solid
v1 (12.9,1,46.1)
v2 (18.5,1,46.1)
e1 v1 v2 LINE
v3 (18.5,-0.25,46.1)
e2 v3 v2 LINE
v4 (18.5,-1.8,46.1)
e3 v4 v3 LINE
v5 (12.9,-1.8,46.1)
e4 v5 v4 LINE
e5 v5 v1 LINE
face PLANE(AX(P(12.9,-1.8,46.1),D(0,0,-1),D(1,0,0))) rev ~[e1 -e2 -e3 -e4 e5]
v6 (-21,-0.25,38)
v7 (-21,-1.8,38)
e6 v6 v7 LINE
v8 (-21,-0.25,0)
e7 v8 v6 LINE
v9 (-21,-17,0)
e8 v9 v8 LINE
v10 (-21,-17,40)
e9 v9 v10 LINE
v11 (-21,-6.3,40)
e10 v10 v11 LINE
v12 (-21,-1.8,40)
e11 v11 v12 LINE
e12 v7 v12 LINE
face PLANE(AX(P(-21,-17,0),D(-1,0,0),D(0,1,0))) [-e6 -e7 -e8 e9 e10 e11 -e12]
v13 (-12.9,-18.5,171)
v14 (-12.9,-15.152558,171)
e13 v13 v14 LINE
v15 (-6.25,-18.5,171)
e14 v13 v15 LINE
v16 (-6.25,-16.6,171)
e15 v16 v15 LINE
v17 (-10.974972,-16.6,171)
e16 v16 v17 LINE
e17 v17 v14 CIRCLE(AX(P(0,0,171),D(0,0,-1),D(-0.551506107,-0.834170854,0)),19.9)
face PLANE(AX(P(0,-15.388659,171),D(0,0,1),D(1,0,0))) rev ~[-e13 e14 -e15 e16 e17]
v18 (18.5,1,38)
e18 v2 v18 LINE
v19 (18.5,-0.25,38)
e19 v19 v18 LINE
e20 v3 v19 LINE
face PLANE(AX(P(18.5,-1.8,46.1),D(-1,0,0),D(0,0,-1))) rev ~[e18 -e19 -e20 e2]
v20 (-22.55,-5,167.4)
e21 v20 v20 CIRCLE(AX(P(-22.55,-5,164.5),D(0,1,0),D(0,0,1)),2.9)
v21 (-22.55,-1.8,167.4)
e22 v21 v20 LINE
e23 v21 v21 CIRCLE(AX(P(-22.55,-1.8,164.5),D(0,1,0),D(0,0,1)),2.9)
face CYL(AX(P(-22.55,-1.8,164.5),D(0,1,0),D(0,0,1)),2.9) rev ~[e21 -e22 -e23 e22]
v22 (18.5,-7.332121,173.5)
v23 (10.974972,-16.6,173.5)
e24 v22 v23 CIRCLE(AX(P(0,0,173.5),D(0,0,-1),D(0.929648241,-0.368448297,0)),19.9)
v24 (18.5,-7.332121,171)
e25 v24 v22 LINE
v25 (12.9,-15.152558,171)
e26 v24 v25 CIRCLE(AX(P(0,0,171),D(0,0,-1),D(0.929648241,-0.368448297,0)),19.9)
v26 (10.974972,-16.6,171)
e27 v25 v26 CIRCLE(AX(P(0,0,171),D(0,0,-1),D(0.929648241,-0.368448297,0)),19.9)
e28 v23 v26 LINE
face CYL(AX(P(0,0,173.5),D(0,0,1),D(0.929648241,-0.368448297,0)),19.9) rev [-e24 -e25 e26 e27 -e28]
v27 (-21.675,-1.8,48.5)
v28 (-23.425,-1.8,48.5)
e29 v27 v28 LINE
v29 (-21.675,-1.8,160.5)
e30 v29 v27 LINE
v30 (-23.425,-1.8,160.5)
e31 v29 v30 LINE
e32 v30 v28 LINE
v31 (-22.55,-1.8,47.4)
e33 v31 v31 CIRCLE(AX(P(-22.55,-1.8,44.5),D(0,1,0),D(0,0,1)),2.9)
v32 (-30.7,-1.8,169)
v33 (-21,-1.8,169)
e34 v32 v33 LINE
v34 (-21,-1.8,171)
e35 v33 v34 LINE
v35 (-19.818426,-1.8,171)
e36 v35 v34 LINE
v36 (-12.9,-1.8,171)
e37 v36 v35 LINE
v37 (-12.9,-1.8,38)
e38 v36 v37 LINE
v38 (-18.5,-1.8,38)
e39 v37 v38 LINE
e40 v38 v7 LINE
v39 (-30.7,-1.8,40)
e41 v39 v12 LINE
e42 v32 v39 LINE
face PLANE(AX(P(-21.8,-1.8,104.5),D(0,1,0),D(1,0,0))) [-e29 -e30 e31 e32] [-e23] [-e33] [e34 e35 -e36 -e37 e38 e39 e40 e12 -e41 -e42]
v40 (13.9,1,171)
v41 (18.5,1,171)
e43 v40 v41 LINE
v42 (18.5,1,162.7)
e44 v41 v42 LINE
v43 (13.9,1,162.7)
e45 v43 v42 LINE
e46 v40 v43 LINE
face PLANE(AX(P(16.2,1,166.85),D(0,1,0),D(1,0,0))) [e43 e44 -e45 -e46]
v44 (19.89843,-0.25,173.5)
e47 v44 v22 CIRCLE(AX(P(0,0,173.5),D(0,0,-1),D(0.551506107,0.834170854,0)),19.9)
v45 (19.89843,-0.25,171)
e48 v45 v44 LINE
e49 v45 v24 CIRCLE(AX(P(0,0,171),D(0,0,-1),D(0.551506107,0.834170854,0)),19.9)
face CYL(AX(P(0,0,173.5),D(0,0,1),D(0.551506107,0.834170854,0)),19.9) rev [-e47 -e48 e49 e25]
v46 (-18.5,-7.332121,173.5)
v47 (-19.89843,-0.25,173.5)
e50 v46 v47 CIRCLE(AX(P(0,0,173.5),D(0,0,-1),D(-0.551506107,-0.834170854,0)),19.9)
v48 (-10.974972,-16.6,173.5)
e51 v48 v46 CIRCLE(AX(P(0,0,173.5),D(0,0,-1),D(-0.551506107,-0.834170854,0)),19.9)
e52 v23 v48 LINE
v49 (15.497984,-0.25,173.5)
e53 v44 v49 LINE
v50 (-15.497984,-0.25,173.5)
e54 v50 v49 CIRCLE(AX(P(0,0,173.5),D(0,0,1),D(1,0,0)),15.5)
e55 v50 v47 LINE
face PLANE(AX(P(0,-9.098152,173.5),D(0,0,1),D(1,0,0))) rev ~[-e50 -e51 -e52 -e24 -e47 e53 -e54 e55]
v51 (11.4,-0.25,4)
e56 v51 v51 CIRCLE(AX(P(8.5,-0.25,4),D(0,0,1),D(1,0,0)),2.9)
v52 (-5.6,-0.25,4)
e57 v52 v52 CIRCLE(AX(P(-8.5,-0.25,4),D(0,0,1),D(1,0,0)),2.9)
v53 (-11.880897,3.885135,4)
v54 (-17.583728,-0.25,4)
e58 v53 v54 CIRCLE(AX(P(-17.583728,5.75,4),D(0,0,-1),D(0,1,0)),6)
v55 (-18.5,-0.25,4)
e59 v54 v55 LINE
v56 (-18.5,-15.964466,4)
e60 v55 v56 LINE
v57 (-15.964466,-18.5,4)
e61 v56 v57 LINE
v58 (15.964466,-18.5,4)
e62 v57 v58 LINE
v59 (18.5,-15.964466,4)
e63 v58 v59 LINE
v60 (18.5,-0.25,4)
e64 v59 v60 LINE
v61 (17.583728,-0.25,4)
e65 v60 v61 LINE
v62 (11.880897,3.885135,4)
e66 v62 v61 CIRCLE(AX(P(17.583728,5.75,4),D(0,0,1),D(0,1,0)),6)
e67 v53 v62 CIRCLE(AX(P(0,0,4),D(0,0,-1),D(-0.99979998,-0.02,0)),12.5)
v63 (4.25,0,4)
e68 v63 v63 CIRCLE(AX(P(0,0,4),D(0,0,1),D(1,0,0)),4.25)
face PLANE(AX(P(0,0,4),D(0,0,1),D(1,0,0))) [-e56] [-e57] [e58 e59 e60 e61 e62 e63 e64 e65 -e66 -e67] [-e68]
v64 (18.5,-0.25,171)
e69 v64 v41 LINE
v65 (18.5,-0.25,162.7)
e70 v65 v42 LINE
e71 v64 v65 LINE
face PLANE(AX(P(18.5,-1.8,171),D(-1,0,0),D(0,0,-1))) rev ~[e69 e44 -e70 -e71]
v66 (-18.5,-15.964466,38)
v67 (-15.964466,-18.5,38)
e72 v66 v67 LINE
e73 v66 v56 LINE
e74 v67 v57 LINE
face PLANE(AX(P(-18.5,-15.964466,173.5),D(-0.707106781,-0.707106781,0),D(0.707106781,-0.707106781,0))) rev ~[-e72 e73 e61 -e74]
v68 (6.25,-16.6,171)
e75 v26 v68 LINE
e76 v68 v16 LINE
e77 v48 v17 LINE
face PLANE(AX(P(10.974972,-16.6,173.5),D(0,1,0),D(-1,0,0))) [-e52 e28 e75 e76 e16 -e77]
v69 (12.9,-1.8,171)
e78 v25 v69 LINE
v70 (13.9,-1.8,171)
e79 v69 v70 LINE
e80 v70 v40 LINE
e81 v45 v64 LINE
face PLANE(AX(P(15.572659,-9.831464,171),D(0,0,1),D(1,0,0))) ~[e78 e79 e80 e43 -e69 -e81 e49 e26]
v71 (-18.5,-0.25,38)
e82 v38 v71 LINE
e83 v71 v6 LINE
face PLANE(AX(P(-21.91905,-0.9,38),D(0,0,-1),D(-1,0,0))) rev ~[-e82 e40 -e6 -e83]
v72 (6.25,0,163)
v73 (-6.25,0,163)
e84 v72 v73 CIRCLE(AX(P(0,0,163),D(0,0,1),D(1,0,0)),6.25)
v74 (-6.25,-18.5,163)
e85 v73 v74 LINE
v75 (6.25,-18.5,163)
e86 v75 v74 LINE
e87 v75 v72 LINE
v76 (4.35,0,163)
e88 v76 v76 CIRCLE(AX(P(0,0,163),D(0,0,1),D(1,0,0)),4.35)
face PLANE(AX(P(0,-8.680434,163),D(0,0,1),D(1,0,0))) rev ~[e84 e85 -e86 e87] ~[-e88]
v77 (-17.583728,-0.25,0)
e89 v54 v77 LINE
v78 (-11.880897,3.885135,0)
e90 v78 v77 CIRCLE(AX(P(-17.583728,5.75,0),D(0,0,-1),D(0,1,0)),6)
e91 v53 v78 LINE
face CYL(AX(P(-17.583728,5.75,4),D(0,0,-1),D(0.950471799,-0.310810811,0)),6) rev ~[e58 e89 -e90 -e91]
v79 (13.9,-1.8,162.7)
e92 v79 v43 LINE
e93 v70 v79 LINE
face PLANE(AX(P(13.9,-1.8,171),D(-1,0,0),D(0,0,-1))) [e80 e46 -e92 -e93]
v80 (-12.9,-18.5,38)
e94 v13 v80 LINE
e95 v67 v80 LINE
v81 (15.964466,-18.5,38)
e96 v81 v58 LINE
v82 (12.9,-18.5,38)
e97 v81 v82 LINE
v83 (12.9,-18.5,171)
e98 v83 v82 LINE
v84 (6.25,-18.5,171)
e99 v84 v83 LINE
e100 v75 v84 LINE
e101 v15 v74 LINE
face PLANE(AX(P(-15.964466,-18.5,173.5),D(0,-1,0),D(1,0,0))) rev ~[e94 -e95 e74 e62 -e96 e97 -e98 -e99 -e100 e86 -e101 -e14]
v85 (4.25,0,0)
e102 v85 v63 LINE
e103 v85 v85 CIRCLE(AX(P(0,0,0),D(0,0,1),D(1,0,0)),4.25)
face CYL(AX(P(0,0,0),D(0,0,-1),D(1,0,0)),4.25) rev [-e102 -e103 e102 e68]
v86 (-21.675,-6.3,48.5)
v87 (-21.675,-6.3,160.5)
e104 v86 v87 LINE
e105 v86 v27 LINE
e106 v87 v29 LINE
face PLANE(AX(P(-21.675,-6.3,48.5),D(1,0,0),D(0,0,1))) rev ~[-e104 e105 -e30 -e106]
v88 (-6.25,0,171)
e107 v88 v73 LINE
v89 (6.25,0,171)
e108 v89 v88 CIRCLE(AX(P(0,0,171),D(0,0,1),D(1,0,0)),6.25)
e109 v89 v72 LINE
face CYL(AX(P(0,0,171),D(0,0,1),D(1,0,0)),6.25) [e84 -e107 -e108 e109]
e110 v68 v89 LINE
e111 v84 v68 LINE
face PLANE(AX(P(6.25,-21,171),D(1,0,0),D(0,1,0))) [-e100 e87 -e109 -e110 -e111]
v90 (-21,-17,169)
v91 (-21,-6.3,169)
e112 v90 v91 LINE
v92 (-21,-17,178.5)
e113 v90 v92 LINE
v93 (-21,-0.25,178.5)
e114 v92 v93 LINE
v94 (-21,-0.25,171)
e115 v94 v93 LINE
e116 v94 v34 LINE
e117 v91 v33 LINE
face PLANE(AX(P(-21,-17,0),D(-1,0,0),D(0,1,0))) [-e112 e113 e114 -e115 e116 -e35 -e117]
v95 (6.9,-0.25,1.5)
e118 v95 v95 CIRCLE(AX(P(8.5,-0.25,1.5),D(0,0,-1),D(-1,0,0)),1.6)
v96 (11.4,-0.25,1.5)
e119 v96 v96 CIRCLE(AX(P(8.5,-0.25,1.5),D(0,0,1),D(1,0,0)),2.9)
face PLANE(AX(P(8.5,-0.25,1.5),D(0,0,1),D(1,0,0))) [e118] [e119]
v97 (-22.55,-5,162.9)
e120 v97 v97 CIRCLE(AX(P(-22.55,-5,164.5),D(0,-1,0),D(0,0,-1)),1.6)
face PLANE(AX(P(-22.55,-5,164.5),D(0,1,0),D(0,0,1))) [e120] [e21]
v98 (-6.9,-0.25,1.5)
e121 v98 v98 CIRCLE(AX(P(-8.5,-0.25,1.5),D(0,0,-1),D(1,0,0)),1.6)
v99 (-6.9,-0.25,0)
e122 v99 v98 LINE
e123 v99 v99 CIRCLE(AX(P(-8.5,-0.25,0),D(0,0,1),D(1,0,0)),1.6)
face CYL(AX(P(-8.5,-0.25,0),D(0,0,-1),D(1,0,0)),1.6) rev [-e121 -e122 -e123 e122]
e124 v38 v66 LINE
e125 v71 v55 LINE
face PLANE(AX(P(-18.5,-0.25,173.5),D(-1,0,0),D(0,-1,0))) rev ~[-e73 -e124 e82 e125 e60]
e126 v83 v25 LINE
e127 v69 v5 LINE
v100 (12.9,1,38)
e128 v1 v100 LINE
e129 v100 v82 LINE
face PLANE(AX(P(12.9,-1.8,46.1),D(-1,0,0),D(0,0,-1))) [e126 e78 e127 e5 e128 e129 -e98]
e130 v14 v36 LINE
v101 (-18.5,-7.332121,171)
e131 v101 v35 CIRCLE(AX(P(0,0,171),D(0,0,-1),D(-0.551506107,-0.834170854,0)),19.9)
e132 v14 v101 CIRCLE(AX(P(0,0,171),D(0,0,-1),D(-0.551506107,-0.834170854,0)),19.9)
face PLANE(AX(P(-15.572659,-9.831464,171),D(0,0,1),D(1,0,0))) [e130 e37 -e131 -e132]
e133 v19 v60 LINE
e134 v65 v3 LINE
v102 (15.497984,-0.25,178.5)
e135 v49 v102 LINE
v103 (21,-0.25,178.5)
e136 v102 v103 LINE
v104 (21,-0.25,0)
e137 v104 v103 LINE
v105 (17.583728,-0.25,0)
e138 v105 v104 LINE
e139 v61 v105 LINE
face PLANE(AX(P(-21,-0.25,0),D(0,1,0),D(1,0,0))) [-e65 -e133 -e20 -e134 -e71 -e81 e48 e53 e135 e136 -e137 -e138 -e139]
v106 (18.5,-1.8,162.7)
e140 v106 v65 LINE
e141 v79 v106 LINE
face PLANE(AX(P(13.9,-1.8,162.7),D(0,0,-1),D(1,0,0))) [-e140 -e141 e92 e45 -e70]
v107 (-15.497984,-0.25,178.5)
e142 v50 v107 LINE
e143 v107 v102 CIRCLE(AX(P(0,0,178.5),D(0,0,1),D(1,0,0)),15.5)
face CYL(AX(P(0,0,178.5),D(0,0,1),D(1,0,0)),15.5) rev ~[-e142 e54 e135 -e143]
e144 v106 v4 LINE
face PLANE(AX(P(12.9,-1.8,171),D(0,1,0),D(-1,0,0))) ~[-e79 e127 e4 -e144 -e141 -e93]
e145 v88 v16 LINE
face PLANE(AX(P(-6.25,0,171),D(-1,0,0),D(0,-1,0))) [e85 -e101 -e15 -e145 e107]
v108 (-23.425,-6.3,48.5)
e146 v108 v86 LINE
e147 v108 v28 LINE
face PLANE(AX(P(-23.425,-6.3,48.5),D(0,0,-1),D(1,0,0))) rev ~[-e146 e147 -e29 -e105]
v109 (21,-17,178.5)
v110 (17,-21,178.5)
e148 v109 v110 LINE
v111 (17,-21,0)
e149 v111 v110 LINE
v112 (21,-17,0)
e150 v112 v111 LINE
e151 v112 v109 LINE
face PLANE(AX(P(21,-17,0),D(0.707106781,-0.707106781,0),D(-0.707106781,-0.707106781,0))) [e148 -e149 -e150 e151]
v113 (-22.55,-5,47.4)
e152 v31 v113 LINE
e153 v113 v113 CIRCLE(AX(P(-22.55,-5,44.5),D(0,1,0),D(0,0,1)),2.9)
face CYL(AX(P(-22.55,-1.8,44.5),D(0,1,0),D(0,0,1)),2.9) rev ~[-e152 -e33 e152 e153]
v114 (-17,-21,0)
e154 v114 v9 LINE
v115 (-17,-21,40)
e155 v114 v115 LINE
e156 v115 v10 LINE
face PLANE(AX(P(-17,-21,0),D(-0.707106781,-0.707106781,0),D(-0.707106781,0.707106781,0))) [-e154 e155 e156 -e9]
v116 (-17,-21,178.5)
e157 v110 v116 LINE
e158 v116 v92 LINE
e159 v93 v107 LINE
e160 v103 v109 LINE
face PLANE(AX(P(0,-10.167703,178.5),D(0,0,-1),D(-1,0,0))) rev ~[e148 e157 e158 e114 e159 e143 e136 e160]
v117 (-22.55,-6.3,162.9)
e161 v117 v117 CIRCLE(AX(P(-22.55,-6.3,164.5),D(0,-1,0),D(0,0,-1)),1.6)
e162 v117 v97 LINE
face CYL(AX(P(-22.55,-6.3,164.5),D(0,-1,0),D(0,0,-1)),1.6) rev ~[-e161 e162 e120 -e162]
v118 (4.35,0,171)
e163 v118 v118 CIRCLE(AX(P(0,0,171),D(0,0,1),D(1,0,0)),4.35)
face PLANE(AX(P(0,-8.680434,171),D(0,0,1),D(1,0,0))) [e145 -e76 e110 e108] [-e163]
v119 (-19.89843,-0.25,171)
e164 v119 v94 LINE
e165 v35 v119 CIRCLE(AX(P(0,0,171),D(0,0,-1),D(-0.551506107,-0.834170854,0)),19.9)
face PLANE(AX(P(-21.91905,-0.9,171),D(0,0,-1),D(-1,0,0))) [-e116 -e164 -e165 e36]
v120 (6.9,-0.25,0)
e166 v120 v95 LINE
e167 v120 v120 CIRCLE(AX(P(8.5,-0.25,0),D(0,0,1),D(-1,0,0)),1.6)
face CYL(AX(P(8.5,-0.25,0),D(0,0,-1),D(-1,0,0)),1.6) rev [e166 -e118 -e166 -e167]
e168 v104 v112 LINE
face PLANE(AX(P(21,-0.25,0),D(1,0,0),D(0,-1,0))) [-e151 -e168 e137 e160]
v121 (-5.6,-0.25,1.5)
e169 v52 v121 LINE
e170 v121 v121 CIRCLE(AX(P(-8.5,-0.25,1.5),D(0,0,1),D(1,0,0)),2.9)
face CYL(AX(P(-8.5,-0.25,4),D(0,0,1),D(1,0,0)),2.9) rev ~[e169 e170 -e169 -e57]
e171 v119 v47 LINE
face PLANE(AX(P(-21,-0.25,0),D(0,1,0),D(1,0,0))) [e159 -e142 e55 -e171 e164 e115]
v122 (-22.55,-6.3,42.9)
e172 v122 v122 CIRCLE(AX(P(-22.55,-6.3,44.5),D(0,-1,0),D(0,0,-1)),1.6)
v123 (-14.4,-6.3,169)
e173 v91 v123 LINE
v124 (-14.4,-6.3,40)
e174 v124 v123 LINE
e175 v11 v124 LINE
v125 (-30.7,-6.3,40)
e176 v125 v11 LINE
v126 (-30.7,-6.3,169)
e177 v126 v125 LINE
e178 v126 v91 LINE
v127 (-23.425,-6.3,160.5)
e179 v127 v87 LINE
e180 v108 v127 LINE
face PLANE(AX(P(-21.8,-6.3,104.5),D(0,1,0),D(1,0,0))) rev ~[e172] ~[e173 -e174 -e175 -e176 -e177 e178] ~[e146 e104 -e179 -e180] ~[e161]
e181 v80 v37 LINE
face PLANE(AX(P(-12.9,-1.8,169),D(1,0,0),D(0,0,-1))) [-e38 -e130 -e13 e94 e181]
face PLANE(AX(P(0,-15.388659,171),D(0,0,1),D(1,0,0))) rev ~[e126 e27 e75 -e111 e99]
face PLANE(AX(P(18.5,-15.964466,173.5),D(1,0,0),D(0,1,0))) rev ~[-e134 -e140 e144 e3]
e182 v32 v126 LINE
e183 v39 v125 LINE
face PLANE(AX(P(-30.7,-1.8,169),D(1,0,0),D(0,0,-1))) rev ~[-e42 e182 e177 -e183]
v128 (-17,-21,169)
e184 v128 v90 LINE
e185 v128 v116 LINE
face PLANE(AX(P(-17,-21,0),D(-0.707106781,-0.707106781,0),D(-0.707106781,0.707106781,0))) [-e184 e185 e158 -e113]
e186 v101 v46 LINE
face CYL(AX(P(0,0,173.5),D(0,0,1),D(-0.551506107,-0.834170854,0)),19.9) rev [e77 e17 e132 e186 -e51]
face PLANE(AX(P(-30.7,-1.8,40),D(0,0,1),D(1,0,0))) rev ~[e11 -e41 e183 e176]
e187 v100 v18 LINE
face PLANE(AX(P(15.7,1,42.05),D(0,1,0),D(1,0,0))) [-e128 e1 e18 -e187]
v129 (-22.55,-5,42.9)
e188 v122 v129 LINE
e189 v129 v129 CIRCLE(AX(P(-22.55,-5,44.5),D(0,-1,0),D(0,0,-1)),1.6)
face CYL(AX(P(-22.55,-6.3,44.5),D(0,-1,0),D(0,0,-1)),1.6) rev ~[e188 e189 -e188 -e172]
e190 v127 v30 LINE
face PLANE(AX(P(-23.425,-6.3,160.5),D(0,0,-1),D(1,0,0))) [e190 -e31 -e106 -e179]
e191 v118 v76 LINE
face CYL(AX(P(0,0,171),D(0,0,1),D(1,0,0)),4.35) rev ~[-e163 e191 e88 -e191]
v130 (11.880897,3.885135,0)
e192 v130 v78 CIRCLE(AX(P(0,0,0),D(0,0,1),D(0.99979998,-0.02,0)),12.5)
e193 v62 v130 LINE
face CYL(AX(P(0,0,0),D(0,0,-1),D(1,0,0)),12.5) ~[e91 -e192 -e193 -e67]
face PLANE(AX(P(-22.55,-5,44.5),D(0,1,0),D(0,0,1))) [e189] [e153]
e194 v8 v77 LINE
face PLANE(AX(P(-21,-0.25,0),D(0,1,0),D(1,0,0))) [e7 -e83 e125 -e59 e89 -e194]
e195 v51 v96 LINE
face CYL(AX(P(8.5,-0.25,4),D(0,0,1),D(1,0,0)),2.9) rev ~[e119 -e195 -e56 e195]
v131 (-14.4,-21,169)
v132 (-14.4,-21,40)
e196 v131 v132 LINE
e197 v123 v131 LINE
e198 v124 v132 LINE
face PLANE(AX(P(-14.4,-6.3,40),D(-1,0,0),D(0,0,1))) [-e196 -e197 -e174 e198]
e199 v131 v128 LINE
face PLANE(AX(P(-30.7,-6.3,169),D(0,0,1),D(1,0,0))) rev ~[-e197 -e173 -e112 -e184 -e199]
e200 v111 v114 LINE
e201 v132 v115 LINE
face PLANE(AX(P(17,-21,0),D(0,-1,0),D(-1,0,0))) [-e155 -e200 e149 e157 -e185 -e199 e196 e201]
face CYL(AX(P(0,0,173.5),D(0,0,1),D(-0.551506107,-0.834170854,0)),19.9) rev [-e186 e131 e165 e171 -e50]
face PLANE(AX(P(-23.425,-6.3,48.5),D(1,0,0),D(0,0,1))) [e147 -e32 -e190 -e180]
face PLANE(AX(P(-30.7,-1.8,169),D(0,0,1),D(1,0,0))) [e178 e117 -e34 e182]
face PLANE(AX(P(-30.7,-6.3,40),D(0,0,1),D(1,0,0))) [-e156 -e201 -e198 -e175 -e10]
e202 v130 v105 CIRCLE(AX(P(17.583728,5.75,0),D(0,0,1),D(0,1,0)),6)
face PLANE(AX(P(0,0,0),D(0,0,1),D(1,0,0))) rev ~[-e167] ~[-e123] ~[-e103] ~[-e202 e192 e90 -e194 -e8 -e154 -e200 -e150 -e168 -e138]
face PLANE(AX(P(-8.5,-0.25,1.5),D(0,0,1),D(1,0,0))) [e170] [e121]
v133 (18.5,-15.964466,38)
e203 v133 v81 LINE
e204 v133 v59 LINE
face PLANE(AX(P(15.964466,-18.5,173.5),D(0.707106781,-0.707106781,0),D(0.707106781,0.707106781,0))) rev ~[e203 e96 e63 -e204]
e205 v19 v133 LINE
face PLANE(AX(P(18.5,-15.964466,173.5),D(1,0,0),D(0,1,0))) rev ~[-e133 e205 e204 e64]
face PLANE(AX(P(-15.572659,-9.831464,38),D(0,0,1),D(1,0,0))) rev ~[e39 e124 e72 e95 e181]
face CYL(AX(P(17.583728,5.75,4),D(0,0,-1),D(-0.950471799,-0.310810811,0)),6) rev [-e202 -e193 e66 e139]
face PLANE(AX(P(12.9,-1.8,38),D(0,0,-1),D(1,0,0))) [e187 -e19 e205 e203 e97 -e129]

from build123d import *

# Parameters (mm, degrees)
BOSS_EXTRUDE1_DEPTH = 178.5
CUT_EXTRUDE3_DEPTH  = 169.5
CUT_EXTRUDE2_REACH  = 182.954
SKETCH3_R           = 15.5
CUT_EXTRUDE4_DEPTH  = 2.5
BOSS_EXTRUDE3_DEPTH = 8
BOSS_EXTRUDE4_DEPTH = 133
SKETCH11_R          = 4.35
CUT_EXTRUDE6_DEPTH  = 10
SKETCH12_W          = 6.838099821
SKETCH12_H          = 1.8
CUT_EXTRUDE7_DEPTH  = 133
SKETCH13_W          = 17.8
SKETCH13_H          = 129
BOSS_EXTRUDE5_DEPTH = 4.5
SKETCH16_W          = 16.3
SKETCH16_H          = 129
CUT_EXTRUDE8_DEPTH  = 182.71634489
SKETCH17_R          = 1.6
SKETCH17_W          = 1.75
SKETCH17_H          = 112
CUT_EXTRUDE10_DEPTH = 182.71634489
SKETCH18_R          = 2.9
CUT_EXTRUDE11_DEPTH = 3.2
SKETCH19_R          = 12.5
BOSS_EXTRUDE6_DEPTH = 4
SKETCH20_R          = 4.25
SKETCH20_R_2        = 1.6
CUT_EXTRUDE12_DEPTH = 4
SKETCH21_R          = 2.9
CUT_EXTRUDE13_DEPTH = 2.5
FILLET1_R           = 6
SKETCH22_W          = 5.6
SKETCH22_H          = 8.1
SKETCH22_W_2        = 4.6
SKETCH22_H_2        = 8.3
BOSS_EXTRUDE7_DEPTH = 2.8
BOSS_EXTRUDE8_DEPTH = 2.5


with BuildPart() as part:
    # Sketch1 → Boss-Extrude1 (new body)
    with BuildSketch(Plane.XY):
        Polygon((-21, -0.25), (21, -0.25), (21, -17), (17, -21), (-17, -21), (-21, -17), align=None)
    extrude(amount=BOSS_EXTRUDE1_DEPTH)

    # Sketch4 → Cut-Extrude3 (cut)
    with BuildSketch(Plane.XY.offset(173.5)):
        Polygon((-18.5, -15.964466094), (-15.964466094, -18.5), (15.964466094, -18.5), (18.5, -15.964466094), (18.5, -2.75), (18.5, -0.25), (-18.5, -0.25), (-18.5, -2.75), align=None)
    extrude(amount=-CUT_EXTRUDE3_DEPTH, mode=Mode.SUBTRACT)

    # Sketch3 → Cut-Extrude2 (cut, up to next)
    with BuildSketch(Plane.XY.offset(178.5), mode=Mode.PRIVATE) as cut_extrude2_sk1:
        Circle(SKETCH3_R)
    cut_extrude2_tool1 = extrude(cut_extrude2_sk1.sketch, amount=-CUT_EXTRUDE2_REACH, mode=Mode.PRIVATE) & part.part
    add(cut_extrude2_tool1.solids().sort_by_distance((0, 0, 178.5))[0], mode=Mode.SUBTRACT)

    # Sketch6 → Cut-Extrude4 (cut)
    with BuildSketch(Plane.XY.offset(173.5)):
        with BuildLine():
            Line((-10.974971526, 16.6), (10.974971526, 16.6))
            ThreePointArc((10.974971526, 16.6), (19.9, 0), (10.974971526, -16.6))
            Line((10.974971526, -16.6), (-10.974971526, -16.6))
            ThreePointArc((-10.974971526, -16.6), (-19.9, 0), (-10.974971526, 16.6))
        make_face()
    extrude(amount=-CUT_EXTRUDE4_DEPTH, mode=Mode.SUBTRACT)

    # Sketch7 → Boss-Extrude3 (add)
    with BuildSketch(Plane.XY.offset(171)):
        with BuildLine():
            Line((-6.25, 0), (-6.25, -21))
            Line((-6.25, -21), (6.25, -21))
            Line((6.25, -21), (6.25, 0))
            ThreePointArc((6.25, 0), (0, 6.25), (-6.25, 0))
        make_face()
    extrude(amount=-BOSS_EXTRUDE3_DEPTH)

    # Sketch10 → Boss-Extrude4 (add)
    with BuildSketch(Plane.XY.offset(171)):
        Polygon((-18.5, -1.8), (-18.5, -15.964466094), (-15.964466094, -18.5), (-12.9, -18.5), (-12.9, -1.8), align=None)
    boss_extrude4 = extrude(amount=-BOSS_EXTRUDE4_DEPTH)

    # Mirror1: Boss-Extrude4 across plane
    add(boss_extrude4.mirror(Plane(origin=(0, 0, 0), x_dir=(0, 0, 1), z_dir=(1, 0, 0))))

    # Sketch11 → Cut-Extrude6 (cut)
    with BuildSketch(Plane.XY.offset(171)):
        Circle(SKETCH11_R)
    extrude(amount=-CUT_EXTRUDE6_DEPTH, mode=Mode.SUBTRACT)

    # Sketch12 → Cut-Extrude7 (cut)
    with BuildSketch(Plane(origin=(0, 0, 38), x_dir=(-1, 0, 0), z_dir=(0, 0, -1))):
        with Locations((21.919049911, -0.9)):
            Rectangle(SKETCH12_W, SKETCH12_H)
    extrude(amount=-CUT_EXTRUDE7_DEPTH, mode=Mode.SUBTRACT)

    # Sketch13 → Boss-Extrude5 (add)
    with BuildSketch(Plane(origin=(0, -1.8, 0), x_dir=(1, 0, 0), z_dir=(0, 1, 0))):
        with Locations((-21.8, -104.5)):
            Rectangle(SKETCH13_W, SKETCH13_H)
    extrude(amount=-BOSS_EXTRUDE5_DEPTH)

    # Sketch16 → Cut-Extrude8 (cut, through all)
    with BuildSketch(Plane.XZ.offset(6.3)):
        with Locations((-22.55, 104.5)):
            Rectangle(SKETCH16_W, SKETCH16_H)
    extrude(amount=CUT_EXTRUDE8_DEPTH, mode=Mode.SUBTRACT)

    # Sketch17 → Cut-Extrude10 (cut, through all)
    with BuildSketch(Plane.XZ.offset(6.3)):
        with Locations(Location((-22.55, 164.5, 0), (0, 0, 270))):
            Circle(SKETCH17_R)
        with Locations(Location((-22.55, 44.5, 0), (0, 0, 270))):
            Circle(SKETCH17_R)
        with Locations((-22.55, 104.5)):
            Rectangle(SKETCH17_W, SKETCH17_H)
    extrude(amount=-CUT_EXTRUDE10_DEPTH, mode=Mode.SUBTRACT)

    # Sketch18 → Cut-Extrude11 (cut)
    with BuildSketch(Plane(origin=(0, -1.8, 0), x_dir=(1, 0, 0), z_dir=(0, 1, 0))):
        with Locations(Location((-22.55, -164.5, 0), (0, 0, 270))):
            Circle(SKETCH18_R)
        with Locations(Location((-22.55, -44.5, 0), (0, 0, 270))):
            Circle(SKETCH18_R)
    extrude(amount=-CUT_EXTRUDE11_DEPTH, mode=Mode.SUBTRACT)

    # Sketch19 → Boss-Extrude6 (add)
    with BuildSketch(Plane.XY):
        Circle(SKETCH19_R)
    extrude(amount=BOSS_EXTRUDE6_DEPTH)

    # Sketch20 → Cut-Extrude12 (cut)
    with BuildSketch(Plane.XY):
        Circle(SKETCH20_R)
        with Locations((-8.5, -0.25)):
            Circle(SKETCH20_R_2)
        with Locations(Location((8.5, -0.25, 0), (0, 0, 180))):
            Circle(SKETCH20_R_2)
    extrude(amount=CUT_EXTRUDE12_DEPTH, mode=Mode.SUBTRACT)

    # Sketch21 → Cut-Extrude13 (cut)
    with BuildSketch(Plane.XY.offset(4)):
        with Locations((-8.5, -0.25)):
            Circle(SKETCH21_R)
        with Locations((8.5, -0.25)):
            Circle(SKETCH21_R)
    extrude(amount=-CUT_EXTRUDE13_DEPTH, mode=Mode.SUBTRACT)

    # Fillet1
    fillet1_edges = [part.edges().sort_by_distance(p)[0] for p in [
        (12.49749975, -0.25, 2),
        (-12.49749975, -0.25, 2),
    ]]
    fillet(fillet1_edges, radius=FILLET1_R)

    # Sketch22 → Boss-Extrude7 (add)
    with BuildSketch(Plane(origin=(0, -1.8, 0), x_dir=(1, 0, 0), z_dir=(0, 1, 0))):
        with Locations((15.7, -42.05)):
            Rectangle(SKETCH22_W, SKETCH22_H)
        with Locations((16.2, -166.85)):
            Rectangle(SKETCH22_W_2, SKETCH22_H_2)
    extrude(amount=BOSS_EXTRUDE7_DEPTH)

    # Sketch23 → Boss-Extrude8 (add)
    with BuildSketch(Plane(origin=(0, 0, 173.5), x_dir=(-1, 0, 0), z_dir=(0, 0, -1))):
        with BuildLine():
            Line((-10.974971526, -16.6), (10.974971526, -16.6))
            ThreePointArc((10.974971526, -16.6), (15.448847251, -12.543648537), (18.5, -7.332121112))
            Line((18.5, -7.332121112), (18.5, -15.964466094))
            Line((18.5, -15.964466094), (15.964466094, -18.5))
            Line((15.964466094, -18.5), (-15.964466094, -18.5))
            Line((-15.964466094, -18.5), (-18.5, -15.964466094))
            Line((-18.5, -15.964466094), (-18.5, -7.332121112))
            ThreePointArc((-18.5, -7.332121112), (-15.448847251, -12.543648537), (-10.974971526, -16.6))
        make_face()
    extrude(amount=BOSS_EXTRUDE8_DEPTH)


solid = part.part
